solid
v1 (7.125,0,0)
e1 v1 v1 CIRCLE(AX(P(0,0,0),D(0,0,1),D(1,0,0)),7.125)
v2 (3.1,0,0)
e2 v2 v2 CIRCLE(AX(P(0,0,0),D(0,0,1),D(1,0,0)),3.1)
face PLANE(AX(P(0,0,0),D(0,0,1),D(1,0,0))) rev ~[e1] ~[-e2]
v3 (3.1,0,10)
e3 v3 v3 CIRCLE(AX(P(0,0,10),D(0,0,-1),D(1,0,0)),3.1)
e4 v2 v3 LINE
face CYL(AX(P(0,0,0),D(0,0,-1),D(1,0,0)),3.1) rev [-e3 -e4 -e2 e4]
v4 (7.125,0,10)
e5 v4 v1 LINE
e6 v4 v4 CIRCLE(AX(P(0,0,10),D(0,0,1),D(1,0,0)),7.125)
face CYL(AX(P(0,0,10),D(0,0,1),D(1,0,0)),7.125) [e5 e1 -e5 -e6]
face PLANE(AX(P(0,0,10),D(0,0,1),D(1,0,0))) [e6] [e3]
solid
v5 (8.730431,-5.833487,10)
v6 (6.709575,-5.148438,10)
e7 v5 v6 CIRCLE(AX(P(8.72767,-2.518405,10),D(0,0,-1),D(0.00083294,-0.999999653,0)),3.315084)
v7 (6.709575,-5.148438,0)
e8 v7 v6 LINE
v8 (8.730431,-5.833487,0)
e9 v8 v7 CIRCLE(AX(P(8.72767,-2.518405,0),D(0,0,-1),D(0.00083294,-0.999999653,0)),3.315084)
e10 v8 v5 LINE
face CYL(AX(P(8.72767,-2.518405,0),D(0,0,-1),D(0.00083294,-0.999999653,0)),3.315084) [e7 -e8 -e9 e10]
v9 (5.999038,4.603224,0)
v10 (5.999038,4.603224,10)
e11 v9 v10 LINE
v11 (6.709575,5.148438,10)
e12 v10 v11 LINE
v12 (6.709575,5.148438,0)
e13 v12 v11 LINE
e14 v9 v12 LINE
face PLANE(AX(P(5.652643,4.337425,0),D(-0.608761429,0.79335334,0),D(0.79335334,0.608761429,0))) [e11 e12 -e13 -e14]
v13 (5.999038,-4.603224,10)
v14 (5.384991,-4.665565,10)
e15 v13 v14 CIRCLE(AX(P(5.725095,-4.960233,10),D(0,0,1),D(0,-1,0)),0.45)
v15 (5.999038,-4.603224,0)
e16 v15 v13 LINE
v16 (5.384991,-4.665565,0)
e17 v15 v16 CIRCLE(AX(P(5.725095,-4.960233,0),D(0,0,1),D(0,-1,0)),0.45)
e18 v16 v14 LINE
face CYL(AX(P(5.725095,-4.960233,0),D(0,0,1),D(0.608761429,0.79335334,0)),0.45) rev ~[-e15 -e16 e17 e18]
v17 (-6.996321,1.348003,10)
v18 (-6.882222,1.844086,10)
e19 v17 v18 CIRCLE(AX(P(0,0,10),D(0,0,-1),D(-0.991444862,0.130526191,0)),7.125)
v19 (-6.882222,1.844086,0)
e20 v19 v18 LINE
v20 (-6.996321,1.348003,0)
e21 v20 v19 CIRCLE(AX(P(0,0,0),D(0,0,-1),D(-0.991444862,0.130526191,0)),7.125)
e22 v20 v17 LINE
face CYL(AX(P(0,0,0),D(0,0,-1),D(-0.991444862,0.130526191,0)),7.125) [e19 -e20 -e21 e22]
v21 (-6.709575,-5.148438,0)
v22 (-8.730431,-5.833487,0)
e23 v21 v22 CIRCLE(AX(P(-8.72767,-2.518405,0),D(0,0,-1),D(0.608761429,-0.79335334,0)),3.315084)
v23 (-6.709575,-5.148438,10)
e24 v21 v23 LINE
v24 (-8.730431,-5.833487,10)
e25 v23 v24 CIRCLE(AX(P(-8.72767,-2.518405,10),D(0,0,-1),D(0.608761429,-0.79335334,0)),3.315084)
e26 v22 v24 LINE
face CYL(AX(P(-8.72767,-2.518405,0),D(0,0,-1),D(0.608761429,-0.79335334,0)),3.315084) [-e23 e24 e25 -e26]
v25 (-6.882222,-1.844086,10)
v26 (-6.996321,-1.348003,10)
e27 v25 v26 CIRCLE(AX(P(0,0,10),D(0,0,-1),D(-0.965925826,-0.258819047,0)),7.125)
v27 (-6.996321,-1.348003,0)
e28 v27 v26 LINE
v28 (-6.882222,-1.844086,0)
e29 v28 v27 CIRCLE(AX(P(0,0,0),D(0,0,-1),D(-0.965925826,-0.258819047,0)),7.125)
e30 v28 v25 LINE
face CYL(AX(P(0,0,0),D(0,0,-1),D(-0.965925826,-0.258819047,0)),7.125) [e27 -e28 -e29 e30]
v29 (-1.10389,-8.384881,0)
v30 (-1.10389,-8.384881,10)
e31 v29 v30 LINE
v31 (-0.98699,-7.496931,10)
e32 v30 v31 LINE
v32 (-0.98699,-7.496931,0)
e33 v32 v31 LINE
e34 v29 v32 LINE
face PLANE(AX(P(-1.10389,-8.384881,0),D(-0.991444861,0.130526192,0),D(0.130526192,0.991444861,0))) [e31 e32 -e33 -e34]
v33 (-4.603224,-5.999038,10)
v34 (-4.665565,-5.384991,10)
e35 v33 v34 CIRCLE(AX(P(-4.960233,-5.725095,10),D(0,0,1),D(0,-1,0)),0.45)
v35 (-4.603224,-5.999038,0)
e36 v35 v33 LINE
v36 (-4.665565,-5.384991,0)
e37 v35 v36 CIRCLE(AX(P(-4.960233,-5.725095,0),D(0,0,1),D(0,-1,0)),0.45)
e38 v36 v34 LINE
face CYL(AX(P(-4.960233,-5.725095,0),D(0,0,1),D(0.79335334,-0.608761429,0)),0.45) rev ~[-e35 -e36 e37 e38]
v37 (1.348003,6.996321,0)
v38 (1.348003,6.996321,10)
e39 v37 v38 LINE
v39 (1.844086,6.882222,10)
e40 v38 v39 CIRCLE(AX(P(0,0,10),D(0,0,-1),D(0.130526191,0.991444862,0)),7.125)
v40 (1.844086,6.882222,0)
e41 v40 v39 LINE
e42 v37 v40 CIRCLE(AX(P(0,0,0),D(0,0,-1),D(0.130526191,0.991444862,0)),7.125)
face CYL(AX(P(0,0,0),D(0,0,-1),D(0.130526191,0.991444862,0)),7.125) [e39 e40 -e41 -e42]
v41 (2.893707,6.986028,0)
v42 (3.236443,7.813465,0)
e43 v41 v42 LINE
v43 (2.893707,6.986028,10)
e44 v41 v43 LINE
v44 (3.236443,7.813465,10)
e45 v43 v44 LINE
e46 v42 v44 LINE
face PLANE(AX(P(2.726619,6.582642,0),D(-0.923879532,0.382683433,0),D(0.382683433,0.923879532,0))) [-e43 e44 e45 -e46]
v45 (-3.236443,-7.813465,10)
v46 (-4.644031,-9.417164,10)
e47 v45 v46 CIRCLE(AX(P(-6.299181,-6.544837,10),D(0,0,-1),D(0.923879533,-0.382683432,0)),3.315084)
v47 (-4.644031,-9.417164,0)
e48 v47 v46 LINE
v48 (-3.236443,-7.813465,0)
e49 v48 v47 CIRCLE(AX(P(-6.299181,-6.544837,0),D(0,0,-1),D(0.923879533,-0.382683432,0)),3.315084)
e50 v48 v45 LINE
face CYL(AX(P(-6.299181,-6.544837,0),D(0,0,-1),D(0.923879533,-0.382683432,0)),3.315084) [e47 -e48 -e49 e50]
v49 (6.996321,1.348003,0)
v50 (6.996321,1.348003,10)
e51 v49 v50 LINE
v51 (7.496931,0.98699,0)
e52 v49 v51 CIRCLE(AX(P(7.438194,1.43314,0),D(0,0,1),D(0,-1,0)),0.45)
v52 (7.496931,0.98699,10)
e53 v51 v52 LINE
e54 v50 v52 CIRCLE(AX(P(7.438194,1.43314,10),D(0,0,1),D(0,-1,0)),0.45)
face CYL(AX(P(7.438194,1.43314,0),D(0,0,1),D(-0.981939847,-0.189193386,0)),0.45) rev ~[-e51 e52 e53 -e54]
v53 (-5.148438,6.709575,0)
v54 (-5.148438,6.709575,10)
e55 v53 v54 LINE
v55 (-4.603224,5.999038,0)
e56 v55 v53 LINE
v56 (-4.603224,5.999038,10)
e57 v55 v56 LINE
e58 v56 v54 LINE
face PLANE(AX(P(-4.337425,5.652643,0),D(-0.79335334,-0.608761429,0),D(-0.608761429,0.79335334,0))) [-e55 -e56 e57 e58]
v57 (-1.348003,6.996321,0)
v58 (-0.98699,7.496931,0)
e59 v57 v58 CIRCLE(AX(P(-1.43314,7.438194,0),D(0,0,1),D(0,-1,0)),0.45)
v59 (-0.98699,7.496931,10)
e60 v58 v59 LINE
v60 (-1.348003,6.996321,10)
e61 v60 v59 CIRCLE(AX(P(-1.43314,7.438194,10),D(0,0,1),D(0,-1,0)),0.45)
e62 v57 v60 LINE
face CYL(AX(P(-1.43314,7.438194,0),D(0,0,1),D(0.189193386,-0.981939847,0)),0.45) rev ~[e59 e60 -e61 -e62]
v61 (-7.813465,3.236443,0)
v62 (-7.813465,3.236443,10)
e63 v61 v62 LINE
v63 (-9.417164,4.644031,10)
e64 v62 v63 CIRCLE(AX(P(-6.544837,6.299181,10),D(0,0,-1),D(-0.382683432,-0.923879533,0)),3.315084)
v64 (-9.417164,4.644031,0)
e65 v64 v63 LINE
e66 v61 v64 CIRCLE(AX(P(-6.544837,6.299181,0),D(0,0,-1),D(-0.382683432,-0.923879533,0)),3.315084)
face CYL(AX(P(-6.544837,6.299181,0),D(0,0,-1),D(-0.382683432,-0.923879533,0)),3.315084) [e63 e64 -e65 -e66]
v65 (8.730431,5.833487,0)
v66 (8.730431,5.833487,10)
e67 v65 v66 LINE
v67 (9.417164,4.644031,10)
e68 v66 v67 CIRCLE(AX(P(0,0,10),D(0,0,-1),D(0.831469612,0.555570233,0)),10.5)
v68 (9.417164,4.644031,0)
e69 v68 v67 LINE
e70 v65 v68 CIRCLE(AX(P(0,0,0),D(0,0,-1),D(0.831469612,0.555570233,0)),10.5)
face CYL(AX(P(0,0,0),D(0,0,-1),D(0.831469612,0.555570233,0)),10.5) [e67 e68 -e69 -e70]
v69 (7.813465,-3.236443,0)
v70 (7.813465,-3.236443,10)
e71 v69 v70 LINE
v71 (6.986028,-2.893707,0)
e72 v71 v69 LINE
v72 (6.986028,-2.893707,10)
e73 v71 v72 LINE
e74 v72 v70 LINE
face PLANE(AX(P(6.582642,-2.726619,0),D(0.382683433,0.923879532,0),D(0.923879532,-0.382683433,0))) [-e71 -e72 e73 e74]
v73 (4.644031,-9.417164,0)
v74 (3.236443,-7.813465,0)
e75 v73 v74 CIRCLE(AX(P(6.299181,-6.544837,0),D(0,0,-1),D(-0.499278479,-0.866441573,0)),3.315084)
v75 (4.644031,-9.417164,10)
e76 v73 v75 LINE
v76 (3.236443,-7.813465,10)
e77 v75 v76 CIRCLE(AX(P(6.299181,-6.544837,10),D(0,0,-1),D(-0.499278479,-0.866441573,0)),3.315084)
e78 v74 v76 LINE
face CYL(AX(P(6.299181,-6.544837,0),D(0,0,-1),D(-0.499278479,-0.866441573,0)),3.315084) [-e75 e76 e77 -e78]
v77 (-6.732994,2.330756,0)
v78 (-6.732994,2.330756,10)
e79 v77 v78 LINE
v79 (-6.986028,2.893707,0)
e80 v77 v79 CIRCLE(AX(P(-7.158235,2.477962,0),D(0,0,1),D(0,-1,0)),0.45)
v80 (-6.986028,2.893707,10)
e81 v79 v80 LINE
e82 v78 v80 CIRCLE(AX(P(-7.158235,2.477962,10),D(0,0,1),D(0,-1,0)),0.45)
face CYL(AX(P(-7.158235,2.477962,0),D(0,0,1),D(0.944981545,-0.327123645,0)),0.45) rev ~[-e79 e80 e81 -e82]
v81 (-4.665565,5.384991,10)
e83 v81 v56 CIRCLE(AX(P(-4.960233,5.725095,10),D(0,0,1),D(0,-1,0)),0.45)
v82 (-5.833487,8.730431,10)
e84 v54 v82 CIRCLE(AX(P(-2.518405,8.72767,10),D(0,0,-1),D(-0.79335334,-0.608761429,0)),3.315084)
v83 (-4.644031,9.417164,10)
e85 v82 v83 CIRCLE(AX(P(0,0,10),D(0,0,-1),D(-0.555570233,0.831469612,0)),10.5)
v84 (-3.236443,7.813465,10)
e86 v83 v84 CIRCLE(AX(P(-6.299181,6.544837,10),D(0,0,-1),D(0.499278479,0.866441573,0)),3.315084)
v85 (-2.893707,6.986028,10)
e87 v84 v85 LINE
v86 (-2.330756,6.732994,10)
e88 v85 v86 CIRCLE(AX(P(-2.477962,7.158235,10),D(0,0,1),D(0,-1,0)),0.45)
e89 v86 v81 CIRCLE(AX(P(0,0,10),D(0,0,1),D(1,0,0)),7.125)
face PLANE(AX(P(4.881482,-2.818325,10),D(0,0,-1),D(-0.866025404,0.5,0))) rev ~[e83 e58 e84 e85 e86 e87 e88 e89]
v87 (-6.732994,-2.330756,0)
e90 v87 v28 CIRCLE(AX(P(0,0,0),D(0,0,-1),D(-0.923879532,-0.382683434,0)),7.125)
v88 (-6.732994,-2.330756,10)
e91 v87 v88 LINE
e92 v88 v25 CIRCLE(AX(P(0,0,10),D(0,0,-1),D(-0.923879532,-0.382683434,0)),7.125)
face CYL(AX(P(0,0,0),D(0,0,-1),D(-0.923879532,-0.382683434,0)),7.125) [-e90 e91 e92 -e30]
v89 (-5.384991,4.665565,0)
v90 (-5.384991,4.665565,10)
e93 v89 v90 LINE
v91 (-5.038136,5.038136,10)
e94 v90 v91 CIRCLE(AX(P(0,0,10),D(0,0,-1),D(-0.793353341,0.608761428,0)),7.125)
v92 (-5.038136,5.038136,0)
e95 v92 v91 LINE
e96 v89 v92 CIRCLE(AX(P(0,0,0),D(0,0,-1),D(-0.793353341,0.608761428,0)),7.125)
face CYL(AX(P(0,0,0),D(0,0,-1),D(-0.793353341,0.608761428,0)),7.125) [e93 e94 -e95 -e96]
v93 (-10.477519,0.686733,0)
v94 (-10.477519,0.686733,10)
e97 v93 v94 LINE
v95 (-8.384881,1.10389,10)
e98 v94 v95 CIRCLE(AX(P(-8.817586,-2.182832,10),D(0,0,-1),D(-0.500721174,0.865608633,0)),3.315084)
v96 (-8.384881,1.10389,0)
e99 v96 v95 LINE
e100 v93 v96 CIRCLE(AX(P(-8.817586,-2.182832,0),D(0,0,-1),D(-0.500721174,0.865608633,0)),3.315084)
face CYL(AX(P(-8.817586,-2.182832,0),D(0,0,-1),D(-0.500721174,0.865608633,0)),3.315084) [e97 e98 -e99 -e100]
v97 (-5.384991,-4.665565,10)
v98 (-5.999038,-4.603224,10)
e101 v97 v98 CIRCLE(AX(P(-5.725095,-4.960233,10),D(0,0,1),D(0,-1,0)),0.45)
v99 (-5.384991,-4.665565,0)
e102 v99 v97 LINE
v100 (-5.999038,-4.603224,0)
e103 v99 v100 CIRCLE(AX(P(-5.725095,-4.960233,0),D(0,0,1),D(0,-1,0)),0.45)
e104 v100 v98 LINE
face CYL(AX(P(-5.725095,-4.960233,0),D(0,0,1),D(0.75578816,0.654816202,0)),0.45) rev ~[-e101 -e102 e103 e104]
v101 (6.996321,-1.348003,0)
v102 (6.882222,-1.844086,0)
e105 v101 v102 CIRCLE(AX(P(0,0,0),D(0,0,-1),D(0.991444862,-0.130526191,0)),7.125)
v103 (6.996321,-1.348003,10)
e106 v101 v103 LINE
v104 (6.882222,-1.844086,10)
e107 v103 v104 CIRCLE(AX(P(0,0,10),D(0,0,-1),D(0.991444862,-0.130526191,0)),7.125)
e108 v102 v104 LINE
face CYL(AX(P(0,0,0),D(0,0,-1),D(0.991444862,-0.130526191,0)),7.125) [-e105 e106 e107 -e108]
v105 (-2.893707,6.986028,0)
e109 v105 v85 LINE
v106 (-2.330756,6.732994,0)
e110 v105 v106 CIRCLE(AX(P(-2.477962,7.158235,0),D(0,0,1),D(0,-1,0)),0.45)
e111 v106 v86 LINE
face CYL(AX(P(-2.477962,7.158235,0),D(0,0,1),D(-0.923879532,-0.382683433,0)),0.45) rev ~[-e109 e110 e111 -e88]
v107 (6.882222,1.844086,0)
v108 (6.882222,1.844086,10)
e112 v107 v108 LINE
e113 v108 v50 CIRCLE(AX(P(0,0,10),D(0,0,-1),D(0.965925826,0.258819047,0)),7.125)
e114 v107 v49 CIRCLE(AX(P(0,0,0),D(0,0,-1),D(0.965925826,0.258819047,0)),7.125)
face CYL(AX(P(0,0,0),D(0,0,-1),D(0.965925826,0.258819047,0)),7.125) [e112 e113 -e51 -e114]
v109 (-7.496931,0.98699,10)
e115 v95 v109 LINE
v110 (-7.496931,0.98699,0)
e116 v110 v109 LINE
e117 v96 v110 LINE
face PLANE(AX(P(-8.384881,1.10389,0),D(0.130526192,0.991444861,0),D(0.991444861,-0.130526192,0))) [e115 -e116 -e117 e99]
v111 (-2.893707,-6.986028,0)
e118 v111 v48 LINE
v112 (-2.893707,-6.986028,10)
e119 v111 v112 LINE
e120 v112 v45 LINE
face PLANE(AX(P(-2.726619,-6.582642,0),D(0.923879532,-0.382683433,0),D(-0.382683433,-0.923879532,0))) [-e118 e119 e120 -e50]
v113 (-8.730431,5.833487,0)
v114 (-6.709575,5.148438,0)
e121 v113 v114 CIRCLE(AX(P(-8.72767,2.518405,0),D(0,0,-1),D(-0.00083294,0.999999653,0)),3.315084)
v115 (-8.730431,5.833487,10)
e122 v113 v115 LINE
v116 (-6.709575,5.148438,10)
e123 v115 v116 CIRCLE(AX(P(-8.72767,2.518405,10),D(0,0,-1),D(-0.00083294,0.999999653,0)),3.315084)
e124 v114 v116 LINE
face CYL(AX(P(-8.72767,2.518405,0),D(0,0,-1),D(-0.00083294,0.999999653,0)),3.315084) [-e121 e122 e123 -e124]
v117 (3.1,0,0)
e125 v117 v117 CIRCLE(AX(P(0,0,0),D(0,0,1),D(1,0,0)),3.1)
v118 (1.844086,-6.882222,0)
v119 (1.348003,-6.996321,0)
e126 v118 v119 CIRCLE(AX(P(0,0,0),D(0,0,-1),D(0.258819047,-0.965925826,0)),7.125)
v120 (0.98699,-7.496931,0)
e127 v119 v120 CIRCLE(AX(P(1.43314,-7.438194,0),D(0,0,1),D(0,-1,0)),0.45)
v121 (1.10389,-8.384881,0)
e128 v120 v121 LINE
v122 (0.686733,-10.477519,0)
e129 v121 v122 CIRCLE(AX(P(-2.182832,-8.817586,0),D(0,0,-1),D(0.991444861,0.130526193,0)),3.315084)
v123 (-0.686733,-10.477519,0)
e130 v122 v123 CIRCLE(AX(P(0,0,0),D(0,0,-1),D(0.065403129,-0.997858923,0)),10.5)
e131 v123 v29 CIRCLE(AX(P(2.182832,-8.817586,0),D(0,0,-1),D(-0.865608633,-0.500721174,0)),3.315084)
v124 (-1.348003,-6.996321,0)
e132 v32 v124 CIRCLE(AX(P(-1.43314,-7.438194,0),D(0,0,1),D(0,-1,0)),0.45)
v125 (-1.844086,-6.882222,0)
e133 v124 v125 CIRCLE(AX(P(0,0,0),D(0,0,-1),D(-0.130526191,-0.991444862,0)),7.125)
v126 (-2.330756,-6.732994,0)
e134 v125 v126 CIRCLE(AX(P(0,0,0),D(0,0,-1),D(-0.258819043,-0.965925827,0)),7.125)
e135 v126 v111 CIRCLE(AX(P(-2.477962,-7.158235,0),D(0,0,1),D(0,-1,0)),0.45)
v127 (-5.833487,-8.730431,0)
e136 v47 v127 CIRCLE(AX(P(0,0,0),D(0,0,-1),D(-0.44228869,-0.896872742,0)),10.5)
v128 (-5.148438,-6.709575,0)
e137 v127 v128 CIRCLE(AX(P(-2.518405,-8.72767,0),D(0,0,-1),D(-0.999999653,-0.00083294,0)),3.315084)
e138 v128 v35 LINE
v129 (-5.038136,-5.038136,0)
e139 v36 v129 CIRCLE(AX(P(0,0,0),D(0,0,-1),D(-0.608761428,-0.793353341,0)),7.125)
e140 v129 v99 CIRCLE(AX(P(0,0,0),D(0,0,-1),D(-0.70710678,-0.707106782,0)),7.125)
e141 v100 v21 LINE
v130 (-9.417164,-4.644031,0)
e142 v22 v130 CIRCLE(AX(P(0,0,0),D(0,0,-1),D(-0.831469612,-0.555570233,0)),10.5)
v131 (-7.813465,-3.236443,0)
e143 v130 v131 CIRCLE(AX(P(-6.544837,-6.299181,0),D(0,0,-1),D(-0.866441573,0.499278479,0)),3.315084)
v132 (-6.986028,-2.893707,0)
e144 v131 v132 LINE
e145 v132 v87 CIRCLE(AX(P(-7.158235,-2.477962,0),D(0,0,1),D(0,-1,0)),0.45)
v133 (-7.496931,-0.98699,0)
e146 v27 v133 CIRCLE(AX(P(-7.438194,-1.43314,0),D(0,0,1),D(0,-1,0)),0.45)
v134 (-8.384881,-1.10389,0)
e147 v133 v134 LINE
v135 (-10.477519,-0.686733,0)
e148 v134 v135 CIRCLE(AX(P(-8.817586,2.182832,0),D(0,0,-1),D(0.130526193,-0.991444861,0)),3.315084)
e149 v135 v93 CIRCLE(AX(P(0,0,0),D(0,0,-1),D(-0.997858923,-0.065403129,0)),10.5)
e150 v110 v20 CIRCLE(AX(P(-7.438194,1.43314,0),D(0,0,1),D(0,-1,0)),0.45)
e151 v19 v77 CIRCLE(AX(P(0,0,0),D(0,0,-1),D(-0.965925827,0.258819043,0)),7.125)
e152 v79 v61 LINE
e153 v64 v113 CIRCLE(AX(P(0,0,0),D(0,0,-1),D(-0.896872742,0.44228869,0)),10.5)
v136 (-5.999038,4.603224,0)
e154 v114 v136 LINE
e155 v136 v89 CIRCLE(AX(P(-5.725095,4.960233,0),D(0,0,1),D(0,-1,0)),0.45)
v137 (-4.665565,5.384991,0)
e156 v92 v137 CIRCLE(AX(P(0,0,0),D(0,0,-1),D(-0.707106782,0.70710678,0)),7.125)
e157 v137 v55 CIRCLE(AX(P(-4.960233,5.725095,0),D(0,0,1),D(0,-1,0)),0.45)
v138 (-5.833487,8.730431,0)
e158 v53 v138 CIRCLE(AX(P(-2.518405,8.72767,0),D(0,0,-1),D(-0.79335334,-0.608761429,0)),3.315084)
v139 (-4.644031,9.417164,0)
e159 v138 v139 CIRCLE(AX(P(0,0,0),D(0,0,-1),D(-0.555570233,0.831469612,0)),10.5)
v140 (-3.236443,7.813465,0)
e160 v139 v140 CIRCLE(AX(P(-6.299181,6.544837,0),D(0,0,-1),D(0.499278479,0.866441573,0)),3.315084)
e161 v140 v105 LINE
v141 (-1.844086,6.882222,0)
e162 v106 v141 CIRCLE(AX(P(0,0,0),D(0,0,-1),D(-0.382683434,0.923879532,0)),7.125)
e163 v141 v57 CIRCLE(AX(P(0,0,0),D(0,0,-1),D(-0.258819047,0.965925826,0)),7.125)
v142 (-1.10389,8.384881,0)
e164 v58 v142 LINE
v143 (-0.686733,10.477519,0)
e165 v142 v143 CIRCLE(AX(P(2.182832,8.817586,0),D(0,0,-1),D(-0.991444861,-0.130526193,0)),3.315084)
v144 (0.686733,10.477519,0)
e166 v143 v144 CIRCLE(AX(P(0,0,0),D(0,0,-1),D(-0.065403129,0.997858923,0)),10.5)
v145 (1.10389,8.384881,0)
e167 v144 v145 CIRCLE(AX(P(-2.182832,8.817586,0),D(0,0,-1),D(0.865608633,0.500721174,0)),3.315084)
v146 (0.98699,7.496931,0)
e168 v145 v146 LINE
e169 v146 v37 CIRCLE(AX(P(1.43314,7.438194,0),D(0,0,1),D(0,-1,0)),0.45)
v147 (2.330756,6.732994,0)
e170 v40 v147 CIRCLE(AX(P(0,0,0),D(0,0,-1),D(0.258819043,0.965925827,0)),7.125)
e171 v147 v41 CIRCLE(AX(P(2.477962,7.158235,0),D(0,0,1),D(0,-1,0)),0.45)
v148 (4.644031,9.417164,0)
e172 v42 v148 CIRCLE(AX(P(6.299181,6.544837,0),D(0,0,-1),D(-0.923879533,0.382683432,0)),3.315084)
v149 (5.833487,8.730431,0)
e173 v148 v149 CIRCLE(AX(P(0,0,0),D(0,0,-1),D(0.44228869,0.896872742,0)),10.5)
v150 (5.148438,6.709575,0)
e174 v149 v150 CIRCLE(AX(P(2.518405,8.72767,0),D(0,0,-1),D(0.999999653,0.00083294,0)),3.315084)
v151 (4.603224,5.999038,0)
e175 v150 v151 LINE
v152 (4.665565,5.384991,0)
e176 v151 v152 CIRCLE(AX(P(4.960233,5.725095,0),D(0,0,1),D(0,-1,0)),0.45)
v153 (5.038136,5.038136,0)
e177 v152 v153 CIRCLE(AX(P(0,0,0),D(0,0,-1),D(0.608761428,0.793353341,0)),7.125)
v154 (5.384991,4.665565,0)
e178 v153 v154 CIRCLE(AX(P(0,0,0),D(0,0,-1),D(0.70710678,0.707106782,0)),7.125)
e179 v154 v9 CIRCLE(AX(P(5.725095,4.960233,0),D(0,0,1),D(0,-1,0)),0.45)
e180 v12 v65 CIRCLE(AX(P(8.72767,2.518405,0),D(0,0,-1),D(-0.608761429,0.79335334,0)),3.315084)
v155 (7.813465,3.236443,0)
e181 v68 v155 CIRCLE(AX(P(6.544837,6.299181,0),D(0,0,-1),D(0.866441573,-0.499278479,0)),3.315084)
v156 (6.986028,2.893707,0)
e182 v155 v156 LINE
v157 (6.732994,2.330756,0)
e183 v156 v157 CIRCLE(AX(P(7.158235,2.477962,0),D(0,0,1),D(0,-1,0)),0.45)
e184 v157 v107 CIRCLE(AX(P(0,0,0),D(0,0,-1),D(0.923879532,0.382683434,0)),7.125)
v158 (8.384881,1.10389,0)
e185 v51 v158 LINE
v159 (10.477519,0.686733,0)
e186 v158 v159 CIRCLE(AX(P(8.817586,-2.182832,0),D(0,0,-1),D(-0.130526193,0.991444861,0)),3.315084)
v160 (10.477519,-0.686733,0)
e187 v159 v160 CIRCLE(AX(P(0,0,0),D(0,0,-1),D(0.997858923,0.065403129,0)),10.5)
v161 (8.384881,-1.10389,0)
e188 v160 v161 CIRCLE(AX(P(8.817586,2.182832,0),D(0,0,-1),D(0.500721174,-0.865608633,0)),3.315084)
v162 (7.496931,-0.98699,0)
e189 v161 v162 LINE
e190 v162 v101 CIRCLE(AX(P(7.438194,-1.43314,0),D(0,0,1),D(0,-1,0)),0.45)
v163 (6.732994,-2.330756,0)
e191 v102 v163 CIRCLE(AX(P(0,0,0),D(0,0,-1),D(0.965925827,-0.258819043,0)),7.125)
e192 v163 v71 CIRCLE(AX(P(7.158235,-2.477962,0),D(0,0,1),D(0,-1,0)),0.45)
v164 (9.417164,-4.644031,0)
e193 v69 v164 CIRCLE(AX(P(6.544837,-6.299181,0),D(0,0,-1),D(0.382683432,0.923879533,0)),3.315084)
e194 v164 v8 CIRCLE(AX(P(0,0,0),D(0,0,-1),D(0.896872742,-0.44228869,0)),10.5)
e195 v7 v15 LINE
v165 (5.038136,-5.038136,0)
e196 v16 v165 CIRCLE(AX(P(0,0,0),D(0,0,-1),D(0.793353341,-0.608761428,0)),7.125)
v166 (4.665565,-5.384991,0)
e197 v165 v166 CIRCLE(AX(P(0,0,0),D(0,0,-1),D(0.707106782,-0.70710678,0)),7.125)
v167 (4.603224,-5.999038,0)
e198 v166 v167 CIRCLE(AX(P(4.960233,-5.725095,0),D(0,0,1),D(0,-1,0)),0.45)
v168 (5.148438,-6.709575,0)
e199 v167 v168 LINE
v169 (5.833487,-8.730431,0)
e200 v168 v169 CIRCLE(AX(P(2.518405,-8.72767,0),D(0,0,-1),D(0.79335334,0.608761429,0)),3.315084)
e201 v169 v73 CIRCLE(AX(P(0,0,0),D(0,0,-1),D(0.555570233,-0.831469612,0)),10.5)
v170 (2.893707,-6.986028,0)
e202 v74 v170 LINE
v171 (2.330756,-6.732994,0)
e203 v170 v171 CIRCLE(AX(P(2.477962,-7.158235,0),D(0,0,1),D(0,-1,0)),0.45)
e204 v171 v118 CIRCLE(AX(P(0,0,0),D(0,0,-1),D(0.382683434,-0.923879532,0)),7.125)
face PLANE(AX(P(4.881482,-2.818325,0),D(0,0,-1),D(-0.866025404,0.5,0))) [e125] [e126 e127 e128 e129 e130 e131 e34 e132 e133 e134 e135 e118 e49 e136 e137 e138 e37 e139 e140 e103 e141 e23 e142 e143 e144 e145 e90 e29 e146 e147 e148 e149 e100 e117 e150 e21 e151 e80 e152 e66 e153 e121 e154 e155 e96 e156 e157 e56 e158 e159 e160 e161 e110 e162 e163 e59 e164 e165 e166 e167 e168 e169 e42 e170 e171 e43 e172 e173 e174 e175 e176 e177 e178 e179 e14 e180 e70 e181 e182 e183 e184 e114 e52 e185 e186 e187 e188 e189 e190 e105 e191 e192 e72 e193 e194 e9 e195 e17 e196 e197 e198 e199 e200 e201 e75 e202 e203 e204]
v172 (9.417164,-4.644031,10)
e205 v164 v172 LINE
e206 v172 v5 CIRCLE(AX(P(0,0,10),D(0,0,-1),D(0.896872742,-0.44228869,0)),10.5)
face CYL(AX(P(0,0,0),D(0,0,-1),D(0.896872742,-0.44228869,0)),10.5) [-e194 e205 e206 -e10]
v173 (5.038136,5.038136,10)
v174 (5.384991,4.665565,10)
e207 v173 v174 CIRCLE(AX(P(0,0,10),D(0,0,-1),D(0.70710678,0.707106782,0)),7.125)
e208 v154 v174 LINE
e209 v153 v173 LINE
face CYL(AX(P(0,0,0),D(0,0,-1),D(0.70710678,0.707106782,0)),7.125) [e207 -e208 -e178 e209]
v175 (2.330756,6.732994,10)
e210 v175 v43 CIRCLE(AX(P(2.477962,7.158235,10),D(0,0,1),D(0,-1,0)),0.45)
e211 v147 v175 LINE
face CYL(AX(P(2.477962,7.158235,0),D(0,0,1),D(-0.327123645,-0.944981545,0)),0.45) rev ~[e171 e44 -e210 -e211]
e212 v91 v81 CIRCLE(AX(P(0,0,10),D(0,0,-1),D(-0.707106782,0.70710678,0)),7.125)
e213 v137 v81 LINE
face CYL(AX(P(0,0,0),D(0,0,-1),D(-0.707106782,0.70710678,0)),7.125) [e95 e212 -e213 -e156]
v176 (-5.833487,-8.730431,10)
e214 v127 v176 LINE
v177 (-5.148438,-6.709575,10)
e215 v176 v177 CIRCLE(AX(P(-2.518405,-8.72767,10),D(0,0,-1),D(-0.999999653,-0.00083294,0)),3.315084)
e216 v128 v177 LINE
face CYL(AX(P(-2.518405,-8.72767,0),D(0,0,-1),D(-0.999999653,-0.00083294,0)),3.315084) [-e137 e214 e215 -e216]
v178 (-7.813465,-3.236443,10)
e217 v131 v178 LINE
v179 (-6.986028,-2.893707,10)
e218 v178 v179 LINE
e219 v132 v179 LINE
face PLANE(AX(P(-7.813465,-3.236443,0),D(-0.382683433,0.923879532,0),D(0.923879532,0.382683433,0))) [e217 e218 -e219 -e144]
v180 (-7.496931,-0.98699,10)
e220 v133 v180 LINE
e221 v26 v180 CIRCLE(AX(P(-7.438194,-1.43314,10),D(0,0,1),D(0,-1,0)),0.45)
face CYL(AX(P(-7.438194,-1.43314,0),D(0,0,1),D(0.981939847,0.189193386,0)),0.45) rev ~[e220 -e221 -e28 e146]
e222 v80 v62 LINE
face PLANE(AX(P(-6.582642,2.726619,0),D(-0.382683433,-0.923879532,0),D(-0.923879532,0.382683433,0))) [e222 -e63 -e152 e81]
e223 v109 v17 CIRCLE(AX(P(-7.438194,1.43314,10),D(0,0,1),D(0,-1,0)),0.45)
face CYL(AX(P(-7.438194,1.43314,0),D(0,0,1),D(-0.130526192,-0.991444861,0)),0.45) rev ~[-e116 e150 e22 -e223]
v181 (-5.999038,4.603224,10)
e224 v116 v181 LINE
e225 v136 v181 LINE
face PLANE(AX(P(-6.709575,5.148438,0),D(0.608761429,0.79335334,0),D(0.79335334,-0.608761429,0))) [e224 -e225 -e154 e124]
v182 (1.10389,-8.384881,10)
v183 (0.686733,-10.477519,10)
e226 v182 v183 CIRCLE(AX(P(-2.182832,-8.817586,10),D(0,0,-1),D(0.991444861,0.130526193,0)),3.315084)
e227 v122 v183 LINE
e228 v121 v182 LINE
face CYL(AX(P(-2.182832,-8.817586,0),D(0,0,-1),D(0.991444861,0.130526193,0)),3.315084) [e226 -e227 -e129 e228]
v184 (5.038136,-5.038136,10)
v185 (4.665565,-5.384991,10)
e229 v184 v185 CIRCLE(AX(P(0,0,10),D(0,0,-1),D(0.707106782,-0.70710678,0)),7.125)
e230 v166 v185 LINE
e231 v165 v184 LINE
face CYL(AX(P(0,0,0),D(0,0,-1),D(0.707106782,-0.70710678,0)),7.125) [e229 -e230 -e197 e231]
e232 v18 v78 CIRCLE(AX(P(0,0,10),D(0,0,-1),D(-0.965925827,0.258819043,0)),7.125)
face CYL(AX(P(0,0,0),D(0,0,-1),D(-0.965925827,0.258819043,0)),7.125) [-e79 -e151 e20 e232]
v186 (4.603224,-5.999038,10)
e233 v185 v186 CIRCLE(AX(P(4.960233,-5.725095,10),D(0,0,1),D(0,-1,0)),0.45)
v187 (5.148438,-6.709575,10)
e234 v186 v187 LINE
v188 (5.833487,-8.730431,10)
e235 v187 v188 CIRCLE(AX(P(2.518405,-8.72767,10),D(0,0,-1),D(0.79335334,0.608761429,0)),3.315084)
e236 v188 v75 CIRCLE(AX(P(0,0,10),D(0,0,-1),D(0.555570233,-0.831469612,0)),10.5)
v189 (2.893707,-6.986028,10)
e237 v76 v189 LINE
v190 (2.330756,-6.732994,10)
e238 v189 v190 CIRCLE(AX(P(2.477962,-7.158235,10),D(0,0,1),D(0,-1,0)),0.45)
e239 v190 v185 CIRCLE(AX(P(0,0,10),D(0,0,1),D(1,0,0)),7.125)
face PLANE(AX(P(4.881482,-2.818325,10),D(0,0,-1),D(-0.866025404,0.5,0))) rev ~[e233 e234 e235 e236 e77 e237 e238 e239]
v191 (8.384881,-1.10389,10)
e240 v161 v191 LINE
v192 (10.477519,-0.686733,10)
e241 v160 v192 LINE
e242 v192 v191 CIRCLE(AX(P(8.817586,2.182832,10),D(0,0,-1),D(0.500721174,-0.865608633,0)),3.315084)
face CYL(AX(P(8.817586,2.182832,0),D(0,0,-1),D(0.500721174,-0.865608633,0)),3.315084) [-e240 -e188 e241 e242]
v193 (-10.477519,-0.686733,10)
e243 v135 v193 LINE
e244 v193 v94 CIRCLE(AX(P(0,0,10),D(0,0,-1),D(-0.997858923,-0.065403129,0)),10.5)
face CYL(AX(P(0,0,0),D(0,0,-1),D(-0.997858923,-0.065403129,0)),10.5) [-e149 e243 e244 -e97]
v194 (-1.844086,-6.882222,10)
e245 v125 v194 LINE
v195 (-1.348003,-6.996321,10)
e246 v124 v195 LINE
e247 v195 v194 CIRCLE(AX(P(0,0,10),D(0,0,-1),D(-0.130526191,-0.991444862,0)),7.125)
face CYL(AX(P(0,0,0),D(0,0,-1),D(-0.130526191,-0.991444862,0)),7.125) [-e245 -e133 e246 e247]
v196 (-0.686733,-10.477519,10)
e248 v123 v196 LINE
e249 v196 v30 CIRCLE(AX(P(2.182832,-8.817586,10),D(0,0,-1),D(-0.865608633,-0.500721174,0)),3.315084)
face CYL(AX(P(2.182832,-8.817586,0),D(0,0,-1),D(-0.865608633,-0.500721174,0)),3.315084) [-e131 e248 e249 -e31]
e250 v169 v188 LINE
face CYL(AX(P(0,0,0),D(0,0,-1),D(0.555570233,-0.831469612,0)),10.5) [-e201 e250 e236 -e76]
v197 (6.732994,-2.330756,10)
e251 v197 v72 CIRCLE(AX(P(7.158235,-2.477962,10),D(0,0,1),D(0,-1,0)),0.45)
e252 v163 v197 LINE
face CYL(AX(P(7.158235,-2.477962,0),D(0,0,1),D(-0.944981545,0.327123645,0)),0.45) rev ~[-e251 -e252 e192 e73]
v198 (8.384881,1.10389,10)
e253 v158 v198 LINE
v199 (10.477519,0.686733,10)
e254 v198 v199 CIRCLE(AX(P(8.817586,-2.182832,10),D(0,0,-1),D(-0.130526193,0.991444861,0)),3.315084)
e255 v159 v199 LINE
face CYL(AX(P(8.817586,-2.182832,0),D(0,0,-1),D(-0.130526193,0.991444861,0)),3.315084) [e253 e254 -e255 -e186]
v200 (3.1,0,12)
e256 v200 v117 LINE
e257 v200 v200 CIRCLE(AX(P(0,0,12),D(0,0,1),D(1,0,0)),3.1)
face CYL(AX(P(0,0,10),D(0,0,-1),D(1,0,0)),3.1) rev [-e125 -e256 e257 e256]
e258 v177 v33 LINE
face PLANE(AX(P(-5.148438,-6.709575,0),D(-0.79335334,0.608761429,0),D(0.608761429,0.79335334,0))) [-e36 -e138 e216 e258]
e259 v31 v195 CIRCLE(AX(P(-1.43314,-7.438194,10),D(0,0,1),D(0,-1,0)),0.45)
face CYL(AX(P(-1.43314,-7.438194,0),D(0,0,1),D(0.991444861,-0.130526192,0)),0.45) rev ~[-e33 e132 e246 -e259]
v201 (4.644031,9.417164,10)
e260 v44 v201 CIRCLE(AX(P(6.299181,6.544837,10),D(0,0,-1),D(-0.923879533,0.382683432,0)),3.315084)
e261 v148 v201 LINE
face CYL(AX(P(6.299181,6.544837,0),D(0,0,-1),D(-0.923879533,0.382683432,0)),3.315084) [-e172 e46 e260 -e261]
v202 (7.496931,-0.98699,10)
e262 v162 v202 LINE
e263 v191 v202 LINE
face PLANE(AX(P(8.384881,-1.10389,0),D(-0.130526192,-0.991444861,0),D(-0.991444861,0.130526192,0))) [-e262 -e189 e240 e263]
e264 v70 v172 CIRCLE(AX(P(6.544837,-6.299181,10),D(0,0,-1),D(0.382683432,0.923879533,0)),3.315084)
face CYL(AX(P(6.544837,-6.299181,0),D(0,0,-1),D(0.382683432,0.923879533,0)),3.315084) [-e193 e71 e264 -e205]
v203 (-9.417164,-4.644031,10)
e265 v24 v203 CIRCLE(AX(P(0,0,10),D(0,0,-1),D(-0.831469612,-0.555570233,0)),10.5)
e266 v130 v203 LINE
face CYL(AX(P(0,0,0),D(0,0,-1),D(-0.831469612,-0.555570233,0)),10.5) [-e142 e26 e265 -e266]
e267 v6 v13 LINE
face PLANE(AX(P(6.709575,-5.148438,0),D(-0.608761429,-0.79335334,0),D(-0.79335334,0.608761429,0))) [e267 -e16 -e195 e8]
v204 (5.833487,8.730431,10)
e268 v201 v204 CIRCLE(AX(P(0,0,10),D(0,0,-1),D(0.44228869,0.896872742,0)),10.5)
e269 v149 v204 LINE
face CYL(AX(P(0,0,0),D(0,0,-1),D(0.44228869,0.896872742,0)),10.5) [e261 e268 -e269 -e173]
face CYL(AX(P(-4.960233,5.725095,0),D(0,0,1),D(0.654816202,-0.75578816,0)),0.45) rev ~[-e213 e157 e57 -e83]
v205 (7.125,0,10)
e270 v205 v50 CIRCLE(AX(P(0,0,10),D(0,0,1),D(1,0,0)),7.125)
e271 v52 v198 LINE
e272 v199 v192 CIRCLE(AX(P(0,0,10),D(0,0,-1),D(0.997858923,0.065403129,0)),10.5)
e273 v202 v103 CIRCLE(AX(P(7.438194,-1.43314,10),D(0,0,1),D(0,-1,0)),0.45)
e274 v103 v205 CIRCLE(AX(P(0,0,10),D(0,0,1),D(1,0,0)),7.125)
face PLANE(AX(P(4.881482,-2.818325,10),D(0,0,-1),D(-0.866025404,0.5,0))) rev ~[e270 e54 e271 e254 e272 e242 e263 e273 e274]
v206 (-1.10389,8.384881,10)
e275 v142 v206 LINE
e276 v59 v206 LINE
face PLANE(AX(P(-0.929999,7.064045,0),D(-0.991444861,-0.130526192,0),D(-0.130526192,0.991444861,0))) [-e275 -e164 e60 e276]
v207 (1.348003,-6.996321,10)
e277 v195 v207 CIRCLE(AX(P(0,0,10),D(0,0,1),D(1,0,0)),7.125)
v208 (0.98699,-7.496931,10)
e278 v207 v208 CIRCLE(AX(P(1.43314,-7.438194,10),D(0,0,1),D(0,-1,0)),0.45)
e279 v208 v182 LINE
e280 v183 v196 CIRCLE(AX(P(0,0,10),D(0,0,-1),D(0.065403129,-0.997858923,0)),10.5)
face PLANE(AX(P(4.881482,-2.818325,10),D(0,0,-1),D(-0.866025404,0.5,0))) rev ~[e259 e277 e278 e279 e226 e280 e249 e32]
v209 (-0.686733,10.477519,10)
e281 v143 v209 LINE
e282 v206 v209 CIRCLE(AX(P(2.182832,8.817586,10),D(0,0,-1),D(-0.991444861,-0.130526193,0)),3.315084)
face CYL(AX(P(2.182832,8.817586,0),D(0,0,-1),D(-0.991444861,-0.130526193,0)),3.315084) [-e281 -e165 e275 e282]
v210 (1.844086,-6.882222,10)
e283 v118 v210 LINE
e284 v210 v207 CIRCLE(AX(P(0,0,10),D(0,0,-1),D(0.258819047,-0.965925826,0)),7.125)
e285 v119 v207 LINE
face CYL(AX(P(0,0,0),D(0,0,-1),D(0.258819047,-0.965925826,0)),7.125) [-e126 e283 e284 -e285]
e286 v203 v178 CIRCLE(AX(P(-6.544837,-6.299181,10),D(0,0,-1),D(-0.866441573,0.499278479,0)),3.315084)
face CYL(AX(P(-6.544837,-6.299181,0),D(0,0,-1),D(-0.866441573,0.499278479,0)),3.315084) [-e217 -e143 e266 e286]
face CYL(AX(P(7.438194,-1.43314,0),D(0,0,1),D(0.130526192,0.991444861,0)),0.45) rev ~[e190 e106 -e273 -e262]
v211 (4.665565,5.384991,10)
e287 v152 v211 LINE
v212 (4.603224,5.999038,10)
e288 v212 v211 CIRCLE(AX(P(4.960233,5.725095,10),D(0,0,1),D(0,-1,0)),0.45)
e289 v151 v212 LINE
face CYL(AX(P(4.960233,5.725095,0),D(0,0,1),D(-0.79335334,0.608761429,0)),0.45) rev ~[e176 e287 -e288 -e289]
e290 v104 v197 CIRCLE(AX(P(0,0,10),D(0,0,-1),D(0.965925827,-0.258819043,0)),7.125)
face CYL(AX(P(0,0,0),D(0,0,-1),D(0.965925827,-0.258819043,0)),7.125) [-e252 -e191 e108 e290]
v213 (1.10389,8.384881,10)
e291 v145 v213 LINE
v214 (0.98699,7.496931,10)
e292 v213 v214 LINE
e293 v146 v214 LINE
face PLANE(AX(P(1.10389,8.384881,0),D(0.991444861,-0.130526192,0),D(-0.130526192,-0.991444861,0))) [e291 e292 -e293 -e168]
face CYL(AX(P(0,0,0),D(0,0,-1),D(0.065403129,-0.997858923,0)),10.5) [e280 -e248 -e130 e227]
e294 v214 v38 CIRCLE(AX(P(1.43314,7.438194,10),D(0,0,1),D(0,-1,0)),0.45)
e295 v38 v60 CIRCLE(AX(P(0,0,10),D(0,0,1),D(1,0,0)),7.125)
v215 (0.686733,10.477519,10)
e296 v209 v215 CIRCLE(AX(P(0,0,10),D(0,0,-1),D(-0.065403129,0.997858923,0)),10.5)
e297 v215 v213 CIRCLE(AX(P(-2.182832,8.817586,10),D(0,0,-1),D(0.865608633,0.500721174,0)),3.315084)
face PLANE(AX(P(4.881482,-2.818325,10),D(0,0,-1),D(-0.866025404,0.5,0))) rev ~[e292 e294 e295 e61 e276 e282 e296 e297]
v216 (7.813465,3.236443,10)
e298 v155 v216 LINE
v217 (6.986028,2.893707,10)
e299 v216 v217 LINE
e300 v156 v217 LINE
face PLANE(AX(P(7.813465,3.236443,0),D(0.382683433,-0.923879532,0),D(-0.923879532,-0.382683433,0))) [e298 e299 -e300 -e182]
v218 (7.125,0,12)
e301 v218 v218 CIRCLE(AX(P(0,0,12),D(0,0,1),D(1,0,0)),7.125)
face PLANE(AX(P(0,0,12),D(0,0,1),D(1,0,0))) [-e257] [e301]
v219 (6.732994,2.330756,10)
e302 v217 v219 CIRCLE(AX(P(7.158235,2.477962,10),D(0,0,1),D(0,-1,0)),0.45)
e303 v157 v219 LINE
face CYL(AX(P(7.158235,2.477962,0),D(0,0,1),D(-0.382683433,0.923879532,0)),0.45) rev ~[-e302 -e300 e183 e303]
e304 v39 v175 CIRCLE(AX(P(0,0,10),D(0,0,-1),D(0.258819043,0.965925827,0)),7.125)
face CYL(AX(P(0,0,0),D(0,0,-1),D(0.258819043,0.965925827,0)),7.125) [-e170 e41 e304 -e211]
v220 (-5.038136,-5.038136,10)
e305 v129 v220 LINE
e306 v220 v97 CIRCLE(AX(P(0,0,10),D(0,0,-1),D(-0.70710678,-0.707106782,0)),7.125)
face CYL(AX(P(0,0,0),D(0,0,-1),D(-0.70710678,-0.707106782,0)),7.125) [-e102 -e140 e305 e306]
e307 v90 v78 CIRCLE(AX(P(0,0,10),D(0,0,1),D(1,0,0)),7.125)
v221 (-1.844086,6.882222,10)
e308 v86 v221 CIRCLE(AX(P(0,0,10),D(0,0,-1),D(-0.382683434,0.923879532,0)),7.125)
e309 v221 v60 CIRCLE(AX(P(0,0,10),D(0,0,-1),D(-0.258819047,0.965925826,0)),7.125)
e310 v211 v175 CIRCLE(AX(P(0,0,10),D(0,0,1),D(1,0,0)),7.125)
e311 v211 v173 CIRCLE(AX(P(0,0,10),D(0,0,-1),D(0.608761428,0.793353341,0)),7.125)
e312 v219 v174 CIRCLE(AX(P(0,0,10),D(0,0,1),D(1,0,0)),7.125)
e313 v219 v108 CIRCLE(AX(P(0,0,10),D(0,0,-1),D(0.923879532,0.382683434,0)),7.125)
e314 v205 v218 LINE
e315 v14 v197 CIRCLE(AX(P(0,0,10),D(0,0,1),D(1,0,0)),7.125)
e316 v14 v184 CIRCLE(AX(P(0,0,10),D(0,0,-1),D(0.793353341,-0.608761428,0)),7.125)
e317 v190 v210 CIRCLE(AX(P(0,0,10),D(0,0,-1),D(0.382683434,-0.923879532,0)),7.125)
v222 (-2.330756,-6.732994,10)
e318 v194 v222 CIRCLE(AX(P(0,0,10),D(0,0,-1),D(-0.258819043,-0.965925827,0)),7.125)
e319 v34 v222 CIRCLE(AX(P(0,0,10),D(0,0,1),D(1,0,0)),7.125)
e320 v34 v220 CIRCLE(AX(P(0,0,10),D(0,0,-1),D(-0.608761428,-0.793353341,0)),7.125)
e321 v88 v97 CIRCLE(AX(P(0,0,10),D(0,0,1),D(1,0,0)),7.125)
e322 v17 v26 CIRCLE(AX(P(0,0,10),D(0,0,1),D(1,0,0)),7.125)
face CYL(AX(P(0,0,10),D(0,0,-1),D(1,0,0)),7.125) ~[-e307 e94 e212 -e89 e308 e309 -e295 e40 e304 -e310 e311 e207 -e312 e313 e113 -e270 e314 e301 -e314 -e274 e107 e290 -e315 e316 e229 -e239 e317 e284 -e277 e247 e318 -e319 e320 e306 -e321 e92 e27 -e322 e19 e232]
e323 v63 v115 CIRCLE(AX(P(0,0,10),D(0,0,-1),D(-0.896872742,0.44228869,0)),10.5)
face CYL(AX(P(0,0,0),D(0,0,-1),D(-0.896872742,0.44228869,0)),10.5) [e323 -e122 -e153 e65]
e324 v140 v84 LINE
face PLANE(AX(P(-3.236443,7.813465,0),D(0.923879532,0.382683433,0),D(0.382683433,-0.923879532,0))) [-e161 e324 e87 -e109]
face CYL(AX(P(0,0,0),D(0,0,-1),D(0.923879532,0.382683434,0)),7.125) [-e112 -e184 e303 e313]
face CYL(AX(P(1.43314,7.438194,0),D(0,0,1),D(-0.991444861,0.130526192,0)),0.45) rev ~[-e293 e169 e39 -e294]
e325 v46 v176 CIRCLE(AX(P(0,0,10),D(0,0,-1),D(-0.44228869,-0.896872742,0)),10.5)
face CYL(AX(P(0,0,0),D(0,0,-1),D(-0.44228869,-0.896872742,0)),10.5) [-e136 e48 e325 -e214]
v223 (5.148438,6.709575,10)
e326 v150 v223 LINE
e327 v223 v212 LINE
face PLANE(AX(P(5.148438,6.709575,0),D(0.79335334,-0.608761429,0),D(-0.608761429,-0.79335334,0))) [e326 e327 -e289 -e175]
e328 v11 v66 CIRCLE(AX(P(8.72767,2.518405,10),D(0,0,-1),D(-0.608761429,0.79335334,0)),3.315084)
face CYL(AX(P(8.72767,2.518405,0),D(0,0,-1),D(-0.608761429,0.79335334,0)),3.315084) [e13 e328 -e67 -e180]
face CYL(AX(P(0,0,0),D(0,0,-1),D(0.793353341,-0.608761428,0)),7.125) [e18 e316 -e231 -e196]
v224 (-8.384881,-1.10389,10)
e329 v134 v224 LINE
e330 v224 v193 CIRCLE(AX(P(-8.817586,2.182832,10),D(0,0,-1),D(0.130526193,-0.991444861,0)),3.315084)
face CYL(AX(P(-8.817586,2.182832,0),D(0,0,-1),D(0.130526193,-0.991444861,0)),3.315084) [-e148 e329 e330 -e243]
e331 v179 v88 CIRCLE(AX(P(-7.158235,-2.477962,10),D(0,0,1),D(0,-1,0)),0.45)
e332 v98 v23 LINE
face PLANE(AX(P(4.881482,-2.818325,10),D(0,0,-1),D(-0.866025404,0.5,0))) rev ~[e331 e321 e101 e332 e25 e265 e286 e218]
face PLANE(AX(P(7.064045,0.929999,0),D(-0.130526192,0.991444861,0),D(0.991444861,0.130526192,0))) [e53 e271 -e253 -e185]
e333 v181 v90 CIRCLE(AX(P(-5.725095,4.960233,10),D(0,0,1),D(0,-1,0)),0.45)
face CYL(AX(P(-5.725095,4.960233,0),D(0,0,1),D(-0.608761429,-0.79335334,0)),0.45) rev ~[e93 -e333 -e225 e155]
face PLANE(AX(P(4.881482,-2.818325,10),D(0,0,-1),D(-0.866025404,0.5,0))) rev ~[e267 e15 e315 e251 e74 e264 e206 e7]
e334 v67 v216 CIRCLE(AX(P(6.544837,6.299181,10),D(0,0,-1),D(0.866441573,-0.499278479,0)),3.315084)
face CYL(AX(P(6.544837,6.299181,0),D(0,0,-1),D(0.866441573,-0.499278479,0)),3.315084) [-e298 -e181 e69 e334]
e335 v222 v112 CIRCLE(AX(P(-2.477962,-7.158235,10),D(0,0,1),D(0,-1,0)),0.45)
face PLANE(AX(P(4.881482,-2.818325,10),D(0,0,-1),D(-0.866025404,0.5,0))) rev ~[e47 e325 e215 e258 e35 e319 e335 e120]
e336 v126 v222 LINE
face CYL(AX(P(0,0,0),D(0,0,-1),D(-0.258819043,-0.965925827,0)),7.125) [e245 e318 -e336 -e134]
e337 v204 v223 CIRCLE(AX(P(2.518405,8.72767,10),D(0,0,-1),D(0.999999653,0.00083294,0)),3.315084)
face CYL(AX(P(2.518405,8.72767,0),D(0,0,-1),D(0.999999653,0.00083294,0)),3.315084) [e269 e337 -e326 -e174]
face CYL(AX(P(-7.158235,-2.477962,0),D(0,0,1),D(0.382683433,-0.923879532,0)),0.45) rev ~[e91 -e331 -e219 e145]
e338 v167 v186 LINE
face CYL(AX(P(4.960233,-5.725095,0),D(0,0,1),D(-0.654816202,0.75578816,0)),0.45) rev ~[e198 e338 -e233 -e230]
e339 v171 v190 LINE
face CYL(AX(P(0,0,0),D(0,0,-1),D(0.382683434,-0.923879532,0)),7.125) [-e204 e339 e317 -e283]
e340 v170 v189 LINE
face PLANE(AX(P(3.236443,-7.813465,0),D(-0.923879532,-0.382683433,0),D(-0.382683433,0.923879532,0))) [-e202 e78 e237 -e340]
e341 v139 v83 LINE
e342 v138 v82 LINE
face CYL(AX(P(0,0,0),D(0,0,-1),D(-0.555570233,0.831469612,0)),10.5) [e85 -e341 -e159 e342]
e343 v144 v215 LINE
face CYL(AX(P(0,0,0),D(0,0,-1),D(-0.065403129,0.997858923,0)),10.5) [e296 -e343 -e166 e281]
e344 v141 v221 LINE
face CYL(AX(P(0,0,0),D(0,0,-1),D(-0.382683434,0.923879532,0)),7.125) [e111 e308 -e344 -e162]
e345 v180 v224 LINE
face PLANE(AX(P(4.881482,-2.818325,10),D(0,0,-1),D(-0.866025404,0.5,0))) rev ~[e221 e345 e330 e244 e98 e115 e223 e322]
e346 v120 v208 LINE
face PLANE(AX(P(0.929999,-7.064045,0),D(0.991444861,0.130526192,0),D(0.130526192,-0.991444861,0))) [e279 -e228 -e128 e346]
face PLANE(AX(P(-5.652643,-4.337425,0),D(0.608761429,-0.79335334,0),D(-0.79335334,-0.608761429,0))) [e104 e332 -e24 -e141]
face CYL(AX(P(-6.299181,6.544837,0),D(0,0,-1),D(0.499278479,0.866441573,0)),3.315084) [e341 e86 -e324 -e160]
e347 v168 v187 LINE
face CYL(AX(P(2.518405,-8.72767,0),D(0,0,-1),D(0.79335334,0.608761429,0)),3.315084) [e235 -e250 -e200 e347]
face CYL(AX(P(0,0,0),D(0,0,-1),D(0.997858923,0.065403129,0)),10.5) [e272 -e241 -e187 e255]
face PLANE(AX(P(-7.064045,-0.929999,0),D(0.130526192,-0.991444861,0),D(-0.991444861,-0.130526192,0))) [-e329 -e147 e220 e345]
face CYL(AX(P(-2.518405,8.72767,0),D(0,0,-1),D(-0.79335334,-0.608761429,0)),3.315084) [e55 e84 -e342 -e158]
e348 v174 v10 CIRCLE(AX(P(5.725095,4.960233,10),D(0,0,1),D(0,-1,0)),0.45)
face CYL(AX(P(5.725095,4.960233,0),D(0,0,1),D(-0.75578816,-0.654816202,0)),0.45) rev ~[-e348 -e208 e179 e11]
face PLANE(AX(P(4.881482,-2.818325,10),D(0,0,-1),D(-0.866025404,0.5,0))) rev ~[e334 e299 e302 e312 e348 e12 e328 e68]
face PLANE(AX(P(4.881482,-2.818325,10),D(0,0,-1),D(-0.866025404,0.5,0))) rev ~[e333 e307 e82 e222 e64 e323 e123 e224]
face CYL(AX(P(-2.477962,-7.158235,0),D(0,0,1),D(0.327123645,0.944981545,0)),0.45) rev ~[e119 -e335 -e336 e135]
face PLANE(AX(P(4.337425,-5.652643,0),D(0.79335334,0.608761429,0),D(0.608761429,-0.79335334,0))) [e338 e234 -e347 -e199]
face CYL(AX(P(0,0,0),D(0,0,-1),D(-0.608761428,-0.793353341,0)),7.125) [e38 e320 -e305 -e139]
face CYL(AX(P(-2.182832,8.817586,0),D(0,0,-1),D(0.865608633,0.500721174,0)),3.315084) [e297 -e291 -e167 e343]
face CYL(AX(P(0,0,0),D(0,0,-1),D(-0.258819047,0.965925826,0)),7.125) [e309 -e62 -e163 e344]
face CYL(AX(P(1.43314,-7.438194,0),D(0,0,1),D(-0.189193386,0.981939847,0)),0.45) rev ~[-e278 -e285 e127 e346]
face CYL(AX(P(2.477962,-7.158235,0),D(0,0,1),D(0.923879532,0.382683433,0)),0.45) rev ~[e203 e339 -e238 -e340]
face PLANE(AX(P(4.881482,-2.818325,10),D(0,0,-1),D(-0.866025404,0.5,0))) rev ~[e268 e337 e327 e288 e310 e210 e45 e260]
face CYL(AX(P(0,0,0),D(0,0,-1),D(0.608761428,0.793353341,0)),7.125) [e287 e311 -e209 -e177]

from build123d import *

# Parameters (mm, degrees)
MAINGEAR_DEPTH                     = 10
CONG_1_R                           = 0.45
R_P_TITION_CIRCULAIRE1_COUNT       = 12
CONG_1_OF_R_P_TITION_CIRCULAIRE1_R = 0.45
ESQUISSE5_R                        = 7.125
MAINBASECIRCLE_DEPTH               = 10
ESQUISSE9_R                        = 7.125
ESQUISSE9_R_2                      = 3.1
GEARBOTTOMFIX_DEPTH                = 2
ESQUISSE3_R                        = 3.1
GEARHOLE_DEPTH                     = 13


with BuildPart() as part:
    # Esquisse1 → MainGear (new body)
    with BuildSketch(Plane.XY):
        with BuildLine():
            Line((0, 0), (6.882221512, 1.844085696))
            ThreePointArc((6.882221512, 1.844085696), (6.988095123, 1.390018544), (7.064044637, 0.92999912))
            Line((7.064044637, 0.92999912), (8.384880781, 1.103890497))
            ThreePointArc((8.384880781, 1.103890497), (9.465680859, 1.068283463), (10.477518694, 0.686732857))
            ThreePointArc((10.477518694, 0.686732857), (10.5, 0), (10.477518694, -0.686732857))
            ThreePointArc((10.477518694, -0.686732857), (9.465680859, -1.068283463), (8.384880781, -1.103890497))
            Line((8.384880781, -1.103890497), (7.064044637, -0.92999912))
            ThreePointArc((7.064044637, -0.92999912), (6.988095123, -1.390018544), (6.882221512, -1.844085696))
            Line((6.882221512, -1.844085696), (0, 0))
        make_face()
    maingear = extrude(amount=MAINGEAR_DEPTH)

    # Congé1
    cong_1_edges = [part.edges().sort_by_distance(p)[0] for p in [
        (7.064044637, 0.92999912, 5),
        (7.064044637, -0.92999912, 5),
    ]]
    fillet(cong_1_edges, radius=CONG_1_R)

    # Répétition circulaire1: MainGear ×12 about axis
    r_p_tition_circulaire1_axis = Axis((0, 0, 0), (0, 0, 1))
    for i in range(1, R_P_TITION_CIRCULAIRE1_COUNT):
        add(maingear.rotate(r_p_tition_circulaire1_axis, i * 360 / R_P_TITION_CIRCULAIRE1_COUNT))

    # Congé1 of Répétition circulaire1
    cong_1_of_r_p_tition_circulaire1_edges = [part.edges().sort_by_distance(p)[0] for p in [
        (5.65264255, 4.337425182, 5),
        (6.582641669, 2.726619456, 5),
        (2.726619456, 6.582641669, 5),
        (4.337425182, 5.65264255, 5),
        (-0.92999912, 7.064044637, 5),
        (0.92999912, 7.064044637, 5),
        (-4.337425182, 5.65264255, 5),
        (-2.726619456, 6.582641669, 5),
        (-6.582641669, 2.726619456, 5),
        (-5.65264255, 4.337425182, 5),
        (-7.064044637, -0.92999912, 5),
        (-7.064044637, 0.92999912, 5),
        (-5.65264255, -4.337425182, 5),
        (-6.582641669, -2.726619456, 5),
        (-2.726619456, -6.582641669, 5),
        (-4.337425182, -5.65264255, 5),
        (0.92999912, -7.064044637, 5),
        (-0.92999912, -7.064044637, 5),
        (4.337425182, -5.65264255, 5),
        (2.726619456, -6.582641669, 5),
        (6.582641669, -2.726619456, 5),
        (5.65264255, -4.337425182, 5),
    ]]
    fillet(cong_1_of_r_p_tition_circulaire1_edges, radius=CONG_1_OF_R_P_TITION_CIRCULAIRE1_R)

    # Esquisse9 → GearBottomFix (add)
    with BuildSketch(Plane.XY.offset(10)):
        Circle(ESQUISSE9_R)
        Circle(ESQUISSE9_R_2, mode=Mode.SUBTRACT)
    extrude(amount=GEARBOTTOMFIX_DEPTH)


with BuildPart() as body_2:
    # Esquisse5 → MainBaseCircle (new body, through all)
    with BuildSketch(Plane.XY.offset(10)):
        Circle(ESQUISSE5_R)
    extrude(amount=-MAINBASECIRCLE_DEPTH)


with BuildPart() as gearhole_tool:
    # Esquisse3 → GearHole (new body, through all)
    with BuildSketch(Plane.XY):
        Circle(ESQUISSE3_R)
    extrude(amount=GEARHOLE_DEPTH)


with BuildPart() as part_1:
    add(part.part)

    # GearHole: cut by gearhole_tool
    add(gearhole_tool.part, mode=Mode.SUBTRACT)


with BuildPart() as body_2_1:
    add(body_2.part)

    # GearHole: cut by gearhole_tool
    add(gearhole_tool.part, mode=Mode.SUBTRACT)


solid = Compound([part_1.part, body_2_1.part])
